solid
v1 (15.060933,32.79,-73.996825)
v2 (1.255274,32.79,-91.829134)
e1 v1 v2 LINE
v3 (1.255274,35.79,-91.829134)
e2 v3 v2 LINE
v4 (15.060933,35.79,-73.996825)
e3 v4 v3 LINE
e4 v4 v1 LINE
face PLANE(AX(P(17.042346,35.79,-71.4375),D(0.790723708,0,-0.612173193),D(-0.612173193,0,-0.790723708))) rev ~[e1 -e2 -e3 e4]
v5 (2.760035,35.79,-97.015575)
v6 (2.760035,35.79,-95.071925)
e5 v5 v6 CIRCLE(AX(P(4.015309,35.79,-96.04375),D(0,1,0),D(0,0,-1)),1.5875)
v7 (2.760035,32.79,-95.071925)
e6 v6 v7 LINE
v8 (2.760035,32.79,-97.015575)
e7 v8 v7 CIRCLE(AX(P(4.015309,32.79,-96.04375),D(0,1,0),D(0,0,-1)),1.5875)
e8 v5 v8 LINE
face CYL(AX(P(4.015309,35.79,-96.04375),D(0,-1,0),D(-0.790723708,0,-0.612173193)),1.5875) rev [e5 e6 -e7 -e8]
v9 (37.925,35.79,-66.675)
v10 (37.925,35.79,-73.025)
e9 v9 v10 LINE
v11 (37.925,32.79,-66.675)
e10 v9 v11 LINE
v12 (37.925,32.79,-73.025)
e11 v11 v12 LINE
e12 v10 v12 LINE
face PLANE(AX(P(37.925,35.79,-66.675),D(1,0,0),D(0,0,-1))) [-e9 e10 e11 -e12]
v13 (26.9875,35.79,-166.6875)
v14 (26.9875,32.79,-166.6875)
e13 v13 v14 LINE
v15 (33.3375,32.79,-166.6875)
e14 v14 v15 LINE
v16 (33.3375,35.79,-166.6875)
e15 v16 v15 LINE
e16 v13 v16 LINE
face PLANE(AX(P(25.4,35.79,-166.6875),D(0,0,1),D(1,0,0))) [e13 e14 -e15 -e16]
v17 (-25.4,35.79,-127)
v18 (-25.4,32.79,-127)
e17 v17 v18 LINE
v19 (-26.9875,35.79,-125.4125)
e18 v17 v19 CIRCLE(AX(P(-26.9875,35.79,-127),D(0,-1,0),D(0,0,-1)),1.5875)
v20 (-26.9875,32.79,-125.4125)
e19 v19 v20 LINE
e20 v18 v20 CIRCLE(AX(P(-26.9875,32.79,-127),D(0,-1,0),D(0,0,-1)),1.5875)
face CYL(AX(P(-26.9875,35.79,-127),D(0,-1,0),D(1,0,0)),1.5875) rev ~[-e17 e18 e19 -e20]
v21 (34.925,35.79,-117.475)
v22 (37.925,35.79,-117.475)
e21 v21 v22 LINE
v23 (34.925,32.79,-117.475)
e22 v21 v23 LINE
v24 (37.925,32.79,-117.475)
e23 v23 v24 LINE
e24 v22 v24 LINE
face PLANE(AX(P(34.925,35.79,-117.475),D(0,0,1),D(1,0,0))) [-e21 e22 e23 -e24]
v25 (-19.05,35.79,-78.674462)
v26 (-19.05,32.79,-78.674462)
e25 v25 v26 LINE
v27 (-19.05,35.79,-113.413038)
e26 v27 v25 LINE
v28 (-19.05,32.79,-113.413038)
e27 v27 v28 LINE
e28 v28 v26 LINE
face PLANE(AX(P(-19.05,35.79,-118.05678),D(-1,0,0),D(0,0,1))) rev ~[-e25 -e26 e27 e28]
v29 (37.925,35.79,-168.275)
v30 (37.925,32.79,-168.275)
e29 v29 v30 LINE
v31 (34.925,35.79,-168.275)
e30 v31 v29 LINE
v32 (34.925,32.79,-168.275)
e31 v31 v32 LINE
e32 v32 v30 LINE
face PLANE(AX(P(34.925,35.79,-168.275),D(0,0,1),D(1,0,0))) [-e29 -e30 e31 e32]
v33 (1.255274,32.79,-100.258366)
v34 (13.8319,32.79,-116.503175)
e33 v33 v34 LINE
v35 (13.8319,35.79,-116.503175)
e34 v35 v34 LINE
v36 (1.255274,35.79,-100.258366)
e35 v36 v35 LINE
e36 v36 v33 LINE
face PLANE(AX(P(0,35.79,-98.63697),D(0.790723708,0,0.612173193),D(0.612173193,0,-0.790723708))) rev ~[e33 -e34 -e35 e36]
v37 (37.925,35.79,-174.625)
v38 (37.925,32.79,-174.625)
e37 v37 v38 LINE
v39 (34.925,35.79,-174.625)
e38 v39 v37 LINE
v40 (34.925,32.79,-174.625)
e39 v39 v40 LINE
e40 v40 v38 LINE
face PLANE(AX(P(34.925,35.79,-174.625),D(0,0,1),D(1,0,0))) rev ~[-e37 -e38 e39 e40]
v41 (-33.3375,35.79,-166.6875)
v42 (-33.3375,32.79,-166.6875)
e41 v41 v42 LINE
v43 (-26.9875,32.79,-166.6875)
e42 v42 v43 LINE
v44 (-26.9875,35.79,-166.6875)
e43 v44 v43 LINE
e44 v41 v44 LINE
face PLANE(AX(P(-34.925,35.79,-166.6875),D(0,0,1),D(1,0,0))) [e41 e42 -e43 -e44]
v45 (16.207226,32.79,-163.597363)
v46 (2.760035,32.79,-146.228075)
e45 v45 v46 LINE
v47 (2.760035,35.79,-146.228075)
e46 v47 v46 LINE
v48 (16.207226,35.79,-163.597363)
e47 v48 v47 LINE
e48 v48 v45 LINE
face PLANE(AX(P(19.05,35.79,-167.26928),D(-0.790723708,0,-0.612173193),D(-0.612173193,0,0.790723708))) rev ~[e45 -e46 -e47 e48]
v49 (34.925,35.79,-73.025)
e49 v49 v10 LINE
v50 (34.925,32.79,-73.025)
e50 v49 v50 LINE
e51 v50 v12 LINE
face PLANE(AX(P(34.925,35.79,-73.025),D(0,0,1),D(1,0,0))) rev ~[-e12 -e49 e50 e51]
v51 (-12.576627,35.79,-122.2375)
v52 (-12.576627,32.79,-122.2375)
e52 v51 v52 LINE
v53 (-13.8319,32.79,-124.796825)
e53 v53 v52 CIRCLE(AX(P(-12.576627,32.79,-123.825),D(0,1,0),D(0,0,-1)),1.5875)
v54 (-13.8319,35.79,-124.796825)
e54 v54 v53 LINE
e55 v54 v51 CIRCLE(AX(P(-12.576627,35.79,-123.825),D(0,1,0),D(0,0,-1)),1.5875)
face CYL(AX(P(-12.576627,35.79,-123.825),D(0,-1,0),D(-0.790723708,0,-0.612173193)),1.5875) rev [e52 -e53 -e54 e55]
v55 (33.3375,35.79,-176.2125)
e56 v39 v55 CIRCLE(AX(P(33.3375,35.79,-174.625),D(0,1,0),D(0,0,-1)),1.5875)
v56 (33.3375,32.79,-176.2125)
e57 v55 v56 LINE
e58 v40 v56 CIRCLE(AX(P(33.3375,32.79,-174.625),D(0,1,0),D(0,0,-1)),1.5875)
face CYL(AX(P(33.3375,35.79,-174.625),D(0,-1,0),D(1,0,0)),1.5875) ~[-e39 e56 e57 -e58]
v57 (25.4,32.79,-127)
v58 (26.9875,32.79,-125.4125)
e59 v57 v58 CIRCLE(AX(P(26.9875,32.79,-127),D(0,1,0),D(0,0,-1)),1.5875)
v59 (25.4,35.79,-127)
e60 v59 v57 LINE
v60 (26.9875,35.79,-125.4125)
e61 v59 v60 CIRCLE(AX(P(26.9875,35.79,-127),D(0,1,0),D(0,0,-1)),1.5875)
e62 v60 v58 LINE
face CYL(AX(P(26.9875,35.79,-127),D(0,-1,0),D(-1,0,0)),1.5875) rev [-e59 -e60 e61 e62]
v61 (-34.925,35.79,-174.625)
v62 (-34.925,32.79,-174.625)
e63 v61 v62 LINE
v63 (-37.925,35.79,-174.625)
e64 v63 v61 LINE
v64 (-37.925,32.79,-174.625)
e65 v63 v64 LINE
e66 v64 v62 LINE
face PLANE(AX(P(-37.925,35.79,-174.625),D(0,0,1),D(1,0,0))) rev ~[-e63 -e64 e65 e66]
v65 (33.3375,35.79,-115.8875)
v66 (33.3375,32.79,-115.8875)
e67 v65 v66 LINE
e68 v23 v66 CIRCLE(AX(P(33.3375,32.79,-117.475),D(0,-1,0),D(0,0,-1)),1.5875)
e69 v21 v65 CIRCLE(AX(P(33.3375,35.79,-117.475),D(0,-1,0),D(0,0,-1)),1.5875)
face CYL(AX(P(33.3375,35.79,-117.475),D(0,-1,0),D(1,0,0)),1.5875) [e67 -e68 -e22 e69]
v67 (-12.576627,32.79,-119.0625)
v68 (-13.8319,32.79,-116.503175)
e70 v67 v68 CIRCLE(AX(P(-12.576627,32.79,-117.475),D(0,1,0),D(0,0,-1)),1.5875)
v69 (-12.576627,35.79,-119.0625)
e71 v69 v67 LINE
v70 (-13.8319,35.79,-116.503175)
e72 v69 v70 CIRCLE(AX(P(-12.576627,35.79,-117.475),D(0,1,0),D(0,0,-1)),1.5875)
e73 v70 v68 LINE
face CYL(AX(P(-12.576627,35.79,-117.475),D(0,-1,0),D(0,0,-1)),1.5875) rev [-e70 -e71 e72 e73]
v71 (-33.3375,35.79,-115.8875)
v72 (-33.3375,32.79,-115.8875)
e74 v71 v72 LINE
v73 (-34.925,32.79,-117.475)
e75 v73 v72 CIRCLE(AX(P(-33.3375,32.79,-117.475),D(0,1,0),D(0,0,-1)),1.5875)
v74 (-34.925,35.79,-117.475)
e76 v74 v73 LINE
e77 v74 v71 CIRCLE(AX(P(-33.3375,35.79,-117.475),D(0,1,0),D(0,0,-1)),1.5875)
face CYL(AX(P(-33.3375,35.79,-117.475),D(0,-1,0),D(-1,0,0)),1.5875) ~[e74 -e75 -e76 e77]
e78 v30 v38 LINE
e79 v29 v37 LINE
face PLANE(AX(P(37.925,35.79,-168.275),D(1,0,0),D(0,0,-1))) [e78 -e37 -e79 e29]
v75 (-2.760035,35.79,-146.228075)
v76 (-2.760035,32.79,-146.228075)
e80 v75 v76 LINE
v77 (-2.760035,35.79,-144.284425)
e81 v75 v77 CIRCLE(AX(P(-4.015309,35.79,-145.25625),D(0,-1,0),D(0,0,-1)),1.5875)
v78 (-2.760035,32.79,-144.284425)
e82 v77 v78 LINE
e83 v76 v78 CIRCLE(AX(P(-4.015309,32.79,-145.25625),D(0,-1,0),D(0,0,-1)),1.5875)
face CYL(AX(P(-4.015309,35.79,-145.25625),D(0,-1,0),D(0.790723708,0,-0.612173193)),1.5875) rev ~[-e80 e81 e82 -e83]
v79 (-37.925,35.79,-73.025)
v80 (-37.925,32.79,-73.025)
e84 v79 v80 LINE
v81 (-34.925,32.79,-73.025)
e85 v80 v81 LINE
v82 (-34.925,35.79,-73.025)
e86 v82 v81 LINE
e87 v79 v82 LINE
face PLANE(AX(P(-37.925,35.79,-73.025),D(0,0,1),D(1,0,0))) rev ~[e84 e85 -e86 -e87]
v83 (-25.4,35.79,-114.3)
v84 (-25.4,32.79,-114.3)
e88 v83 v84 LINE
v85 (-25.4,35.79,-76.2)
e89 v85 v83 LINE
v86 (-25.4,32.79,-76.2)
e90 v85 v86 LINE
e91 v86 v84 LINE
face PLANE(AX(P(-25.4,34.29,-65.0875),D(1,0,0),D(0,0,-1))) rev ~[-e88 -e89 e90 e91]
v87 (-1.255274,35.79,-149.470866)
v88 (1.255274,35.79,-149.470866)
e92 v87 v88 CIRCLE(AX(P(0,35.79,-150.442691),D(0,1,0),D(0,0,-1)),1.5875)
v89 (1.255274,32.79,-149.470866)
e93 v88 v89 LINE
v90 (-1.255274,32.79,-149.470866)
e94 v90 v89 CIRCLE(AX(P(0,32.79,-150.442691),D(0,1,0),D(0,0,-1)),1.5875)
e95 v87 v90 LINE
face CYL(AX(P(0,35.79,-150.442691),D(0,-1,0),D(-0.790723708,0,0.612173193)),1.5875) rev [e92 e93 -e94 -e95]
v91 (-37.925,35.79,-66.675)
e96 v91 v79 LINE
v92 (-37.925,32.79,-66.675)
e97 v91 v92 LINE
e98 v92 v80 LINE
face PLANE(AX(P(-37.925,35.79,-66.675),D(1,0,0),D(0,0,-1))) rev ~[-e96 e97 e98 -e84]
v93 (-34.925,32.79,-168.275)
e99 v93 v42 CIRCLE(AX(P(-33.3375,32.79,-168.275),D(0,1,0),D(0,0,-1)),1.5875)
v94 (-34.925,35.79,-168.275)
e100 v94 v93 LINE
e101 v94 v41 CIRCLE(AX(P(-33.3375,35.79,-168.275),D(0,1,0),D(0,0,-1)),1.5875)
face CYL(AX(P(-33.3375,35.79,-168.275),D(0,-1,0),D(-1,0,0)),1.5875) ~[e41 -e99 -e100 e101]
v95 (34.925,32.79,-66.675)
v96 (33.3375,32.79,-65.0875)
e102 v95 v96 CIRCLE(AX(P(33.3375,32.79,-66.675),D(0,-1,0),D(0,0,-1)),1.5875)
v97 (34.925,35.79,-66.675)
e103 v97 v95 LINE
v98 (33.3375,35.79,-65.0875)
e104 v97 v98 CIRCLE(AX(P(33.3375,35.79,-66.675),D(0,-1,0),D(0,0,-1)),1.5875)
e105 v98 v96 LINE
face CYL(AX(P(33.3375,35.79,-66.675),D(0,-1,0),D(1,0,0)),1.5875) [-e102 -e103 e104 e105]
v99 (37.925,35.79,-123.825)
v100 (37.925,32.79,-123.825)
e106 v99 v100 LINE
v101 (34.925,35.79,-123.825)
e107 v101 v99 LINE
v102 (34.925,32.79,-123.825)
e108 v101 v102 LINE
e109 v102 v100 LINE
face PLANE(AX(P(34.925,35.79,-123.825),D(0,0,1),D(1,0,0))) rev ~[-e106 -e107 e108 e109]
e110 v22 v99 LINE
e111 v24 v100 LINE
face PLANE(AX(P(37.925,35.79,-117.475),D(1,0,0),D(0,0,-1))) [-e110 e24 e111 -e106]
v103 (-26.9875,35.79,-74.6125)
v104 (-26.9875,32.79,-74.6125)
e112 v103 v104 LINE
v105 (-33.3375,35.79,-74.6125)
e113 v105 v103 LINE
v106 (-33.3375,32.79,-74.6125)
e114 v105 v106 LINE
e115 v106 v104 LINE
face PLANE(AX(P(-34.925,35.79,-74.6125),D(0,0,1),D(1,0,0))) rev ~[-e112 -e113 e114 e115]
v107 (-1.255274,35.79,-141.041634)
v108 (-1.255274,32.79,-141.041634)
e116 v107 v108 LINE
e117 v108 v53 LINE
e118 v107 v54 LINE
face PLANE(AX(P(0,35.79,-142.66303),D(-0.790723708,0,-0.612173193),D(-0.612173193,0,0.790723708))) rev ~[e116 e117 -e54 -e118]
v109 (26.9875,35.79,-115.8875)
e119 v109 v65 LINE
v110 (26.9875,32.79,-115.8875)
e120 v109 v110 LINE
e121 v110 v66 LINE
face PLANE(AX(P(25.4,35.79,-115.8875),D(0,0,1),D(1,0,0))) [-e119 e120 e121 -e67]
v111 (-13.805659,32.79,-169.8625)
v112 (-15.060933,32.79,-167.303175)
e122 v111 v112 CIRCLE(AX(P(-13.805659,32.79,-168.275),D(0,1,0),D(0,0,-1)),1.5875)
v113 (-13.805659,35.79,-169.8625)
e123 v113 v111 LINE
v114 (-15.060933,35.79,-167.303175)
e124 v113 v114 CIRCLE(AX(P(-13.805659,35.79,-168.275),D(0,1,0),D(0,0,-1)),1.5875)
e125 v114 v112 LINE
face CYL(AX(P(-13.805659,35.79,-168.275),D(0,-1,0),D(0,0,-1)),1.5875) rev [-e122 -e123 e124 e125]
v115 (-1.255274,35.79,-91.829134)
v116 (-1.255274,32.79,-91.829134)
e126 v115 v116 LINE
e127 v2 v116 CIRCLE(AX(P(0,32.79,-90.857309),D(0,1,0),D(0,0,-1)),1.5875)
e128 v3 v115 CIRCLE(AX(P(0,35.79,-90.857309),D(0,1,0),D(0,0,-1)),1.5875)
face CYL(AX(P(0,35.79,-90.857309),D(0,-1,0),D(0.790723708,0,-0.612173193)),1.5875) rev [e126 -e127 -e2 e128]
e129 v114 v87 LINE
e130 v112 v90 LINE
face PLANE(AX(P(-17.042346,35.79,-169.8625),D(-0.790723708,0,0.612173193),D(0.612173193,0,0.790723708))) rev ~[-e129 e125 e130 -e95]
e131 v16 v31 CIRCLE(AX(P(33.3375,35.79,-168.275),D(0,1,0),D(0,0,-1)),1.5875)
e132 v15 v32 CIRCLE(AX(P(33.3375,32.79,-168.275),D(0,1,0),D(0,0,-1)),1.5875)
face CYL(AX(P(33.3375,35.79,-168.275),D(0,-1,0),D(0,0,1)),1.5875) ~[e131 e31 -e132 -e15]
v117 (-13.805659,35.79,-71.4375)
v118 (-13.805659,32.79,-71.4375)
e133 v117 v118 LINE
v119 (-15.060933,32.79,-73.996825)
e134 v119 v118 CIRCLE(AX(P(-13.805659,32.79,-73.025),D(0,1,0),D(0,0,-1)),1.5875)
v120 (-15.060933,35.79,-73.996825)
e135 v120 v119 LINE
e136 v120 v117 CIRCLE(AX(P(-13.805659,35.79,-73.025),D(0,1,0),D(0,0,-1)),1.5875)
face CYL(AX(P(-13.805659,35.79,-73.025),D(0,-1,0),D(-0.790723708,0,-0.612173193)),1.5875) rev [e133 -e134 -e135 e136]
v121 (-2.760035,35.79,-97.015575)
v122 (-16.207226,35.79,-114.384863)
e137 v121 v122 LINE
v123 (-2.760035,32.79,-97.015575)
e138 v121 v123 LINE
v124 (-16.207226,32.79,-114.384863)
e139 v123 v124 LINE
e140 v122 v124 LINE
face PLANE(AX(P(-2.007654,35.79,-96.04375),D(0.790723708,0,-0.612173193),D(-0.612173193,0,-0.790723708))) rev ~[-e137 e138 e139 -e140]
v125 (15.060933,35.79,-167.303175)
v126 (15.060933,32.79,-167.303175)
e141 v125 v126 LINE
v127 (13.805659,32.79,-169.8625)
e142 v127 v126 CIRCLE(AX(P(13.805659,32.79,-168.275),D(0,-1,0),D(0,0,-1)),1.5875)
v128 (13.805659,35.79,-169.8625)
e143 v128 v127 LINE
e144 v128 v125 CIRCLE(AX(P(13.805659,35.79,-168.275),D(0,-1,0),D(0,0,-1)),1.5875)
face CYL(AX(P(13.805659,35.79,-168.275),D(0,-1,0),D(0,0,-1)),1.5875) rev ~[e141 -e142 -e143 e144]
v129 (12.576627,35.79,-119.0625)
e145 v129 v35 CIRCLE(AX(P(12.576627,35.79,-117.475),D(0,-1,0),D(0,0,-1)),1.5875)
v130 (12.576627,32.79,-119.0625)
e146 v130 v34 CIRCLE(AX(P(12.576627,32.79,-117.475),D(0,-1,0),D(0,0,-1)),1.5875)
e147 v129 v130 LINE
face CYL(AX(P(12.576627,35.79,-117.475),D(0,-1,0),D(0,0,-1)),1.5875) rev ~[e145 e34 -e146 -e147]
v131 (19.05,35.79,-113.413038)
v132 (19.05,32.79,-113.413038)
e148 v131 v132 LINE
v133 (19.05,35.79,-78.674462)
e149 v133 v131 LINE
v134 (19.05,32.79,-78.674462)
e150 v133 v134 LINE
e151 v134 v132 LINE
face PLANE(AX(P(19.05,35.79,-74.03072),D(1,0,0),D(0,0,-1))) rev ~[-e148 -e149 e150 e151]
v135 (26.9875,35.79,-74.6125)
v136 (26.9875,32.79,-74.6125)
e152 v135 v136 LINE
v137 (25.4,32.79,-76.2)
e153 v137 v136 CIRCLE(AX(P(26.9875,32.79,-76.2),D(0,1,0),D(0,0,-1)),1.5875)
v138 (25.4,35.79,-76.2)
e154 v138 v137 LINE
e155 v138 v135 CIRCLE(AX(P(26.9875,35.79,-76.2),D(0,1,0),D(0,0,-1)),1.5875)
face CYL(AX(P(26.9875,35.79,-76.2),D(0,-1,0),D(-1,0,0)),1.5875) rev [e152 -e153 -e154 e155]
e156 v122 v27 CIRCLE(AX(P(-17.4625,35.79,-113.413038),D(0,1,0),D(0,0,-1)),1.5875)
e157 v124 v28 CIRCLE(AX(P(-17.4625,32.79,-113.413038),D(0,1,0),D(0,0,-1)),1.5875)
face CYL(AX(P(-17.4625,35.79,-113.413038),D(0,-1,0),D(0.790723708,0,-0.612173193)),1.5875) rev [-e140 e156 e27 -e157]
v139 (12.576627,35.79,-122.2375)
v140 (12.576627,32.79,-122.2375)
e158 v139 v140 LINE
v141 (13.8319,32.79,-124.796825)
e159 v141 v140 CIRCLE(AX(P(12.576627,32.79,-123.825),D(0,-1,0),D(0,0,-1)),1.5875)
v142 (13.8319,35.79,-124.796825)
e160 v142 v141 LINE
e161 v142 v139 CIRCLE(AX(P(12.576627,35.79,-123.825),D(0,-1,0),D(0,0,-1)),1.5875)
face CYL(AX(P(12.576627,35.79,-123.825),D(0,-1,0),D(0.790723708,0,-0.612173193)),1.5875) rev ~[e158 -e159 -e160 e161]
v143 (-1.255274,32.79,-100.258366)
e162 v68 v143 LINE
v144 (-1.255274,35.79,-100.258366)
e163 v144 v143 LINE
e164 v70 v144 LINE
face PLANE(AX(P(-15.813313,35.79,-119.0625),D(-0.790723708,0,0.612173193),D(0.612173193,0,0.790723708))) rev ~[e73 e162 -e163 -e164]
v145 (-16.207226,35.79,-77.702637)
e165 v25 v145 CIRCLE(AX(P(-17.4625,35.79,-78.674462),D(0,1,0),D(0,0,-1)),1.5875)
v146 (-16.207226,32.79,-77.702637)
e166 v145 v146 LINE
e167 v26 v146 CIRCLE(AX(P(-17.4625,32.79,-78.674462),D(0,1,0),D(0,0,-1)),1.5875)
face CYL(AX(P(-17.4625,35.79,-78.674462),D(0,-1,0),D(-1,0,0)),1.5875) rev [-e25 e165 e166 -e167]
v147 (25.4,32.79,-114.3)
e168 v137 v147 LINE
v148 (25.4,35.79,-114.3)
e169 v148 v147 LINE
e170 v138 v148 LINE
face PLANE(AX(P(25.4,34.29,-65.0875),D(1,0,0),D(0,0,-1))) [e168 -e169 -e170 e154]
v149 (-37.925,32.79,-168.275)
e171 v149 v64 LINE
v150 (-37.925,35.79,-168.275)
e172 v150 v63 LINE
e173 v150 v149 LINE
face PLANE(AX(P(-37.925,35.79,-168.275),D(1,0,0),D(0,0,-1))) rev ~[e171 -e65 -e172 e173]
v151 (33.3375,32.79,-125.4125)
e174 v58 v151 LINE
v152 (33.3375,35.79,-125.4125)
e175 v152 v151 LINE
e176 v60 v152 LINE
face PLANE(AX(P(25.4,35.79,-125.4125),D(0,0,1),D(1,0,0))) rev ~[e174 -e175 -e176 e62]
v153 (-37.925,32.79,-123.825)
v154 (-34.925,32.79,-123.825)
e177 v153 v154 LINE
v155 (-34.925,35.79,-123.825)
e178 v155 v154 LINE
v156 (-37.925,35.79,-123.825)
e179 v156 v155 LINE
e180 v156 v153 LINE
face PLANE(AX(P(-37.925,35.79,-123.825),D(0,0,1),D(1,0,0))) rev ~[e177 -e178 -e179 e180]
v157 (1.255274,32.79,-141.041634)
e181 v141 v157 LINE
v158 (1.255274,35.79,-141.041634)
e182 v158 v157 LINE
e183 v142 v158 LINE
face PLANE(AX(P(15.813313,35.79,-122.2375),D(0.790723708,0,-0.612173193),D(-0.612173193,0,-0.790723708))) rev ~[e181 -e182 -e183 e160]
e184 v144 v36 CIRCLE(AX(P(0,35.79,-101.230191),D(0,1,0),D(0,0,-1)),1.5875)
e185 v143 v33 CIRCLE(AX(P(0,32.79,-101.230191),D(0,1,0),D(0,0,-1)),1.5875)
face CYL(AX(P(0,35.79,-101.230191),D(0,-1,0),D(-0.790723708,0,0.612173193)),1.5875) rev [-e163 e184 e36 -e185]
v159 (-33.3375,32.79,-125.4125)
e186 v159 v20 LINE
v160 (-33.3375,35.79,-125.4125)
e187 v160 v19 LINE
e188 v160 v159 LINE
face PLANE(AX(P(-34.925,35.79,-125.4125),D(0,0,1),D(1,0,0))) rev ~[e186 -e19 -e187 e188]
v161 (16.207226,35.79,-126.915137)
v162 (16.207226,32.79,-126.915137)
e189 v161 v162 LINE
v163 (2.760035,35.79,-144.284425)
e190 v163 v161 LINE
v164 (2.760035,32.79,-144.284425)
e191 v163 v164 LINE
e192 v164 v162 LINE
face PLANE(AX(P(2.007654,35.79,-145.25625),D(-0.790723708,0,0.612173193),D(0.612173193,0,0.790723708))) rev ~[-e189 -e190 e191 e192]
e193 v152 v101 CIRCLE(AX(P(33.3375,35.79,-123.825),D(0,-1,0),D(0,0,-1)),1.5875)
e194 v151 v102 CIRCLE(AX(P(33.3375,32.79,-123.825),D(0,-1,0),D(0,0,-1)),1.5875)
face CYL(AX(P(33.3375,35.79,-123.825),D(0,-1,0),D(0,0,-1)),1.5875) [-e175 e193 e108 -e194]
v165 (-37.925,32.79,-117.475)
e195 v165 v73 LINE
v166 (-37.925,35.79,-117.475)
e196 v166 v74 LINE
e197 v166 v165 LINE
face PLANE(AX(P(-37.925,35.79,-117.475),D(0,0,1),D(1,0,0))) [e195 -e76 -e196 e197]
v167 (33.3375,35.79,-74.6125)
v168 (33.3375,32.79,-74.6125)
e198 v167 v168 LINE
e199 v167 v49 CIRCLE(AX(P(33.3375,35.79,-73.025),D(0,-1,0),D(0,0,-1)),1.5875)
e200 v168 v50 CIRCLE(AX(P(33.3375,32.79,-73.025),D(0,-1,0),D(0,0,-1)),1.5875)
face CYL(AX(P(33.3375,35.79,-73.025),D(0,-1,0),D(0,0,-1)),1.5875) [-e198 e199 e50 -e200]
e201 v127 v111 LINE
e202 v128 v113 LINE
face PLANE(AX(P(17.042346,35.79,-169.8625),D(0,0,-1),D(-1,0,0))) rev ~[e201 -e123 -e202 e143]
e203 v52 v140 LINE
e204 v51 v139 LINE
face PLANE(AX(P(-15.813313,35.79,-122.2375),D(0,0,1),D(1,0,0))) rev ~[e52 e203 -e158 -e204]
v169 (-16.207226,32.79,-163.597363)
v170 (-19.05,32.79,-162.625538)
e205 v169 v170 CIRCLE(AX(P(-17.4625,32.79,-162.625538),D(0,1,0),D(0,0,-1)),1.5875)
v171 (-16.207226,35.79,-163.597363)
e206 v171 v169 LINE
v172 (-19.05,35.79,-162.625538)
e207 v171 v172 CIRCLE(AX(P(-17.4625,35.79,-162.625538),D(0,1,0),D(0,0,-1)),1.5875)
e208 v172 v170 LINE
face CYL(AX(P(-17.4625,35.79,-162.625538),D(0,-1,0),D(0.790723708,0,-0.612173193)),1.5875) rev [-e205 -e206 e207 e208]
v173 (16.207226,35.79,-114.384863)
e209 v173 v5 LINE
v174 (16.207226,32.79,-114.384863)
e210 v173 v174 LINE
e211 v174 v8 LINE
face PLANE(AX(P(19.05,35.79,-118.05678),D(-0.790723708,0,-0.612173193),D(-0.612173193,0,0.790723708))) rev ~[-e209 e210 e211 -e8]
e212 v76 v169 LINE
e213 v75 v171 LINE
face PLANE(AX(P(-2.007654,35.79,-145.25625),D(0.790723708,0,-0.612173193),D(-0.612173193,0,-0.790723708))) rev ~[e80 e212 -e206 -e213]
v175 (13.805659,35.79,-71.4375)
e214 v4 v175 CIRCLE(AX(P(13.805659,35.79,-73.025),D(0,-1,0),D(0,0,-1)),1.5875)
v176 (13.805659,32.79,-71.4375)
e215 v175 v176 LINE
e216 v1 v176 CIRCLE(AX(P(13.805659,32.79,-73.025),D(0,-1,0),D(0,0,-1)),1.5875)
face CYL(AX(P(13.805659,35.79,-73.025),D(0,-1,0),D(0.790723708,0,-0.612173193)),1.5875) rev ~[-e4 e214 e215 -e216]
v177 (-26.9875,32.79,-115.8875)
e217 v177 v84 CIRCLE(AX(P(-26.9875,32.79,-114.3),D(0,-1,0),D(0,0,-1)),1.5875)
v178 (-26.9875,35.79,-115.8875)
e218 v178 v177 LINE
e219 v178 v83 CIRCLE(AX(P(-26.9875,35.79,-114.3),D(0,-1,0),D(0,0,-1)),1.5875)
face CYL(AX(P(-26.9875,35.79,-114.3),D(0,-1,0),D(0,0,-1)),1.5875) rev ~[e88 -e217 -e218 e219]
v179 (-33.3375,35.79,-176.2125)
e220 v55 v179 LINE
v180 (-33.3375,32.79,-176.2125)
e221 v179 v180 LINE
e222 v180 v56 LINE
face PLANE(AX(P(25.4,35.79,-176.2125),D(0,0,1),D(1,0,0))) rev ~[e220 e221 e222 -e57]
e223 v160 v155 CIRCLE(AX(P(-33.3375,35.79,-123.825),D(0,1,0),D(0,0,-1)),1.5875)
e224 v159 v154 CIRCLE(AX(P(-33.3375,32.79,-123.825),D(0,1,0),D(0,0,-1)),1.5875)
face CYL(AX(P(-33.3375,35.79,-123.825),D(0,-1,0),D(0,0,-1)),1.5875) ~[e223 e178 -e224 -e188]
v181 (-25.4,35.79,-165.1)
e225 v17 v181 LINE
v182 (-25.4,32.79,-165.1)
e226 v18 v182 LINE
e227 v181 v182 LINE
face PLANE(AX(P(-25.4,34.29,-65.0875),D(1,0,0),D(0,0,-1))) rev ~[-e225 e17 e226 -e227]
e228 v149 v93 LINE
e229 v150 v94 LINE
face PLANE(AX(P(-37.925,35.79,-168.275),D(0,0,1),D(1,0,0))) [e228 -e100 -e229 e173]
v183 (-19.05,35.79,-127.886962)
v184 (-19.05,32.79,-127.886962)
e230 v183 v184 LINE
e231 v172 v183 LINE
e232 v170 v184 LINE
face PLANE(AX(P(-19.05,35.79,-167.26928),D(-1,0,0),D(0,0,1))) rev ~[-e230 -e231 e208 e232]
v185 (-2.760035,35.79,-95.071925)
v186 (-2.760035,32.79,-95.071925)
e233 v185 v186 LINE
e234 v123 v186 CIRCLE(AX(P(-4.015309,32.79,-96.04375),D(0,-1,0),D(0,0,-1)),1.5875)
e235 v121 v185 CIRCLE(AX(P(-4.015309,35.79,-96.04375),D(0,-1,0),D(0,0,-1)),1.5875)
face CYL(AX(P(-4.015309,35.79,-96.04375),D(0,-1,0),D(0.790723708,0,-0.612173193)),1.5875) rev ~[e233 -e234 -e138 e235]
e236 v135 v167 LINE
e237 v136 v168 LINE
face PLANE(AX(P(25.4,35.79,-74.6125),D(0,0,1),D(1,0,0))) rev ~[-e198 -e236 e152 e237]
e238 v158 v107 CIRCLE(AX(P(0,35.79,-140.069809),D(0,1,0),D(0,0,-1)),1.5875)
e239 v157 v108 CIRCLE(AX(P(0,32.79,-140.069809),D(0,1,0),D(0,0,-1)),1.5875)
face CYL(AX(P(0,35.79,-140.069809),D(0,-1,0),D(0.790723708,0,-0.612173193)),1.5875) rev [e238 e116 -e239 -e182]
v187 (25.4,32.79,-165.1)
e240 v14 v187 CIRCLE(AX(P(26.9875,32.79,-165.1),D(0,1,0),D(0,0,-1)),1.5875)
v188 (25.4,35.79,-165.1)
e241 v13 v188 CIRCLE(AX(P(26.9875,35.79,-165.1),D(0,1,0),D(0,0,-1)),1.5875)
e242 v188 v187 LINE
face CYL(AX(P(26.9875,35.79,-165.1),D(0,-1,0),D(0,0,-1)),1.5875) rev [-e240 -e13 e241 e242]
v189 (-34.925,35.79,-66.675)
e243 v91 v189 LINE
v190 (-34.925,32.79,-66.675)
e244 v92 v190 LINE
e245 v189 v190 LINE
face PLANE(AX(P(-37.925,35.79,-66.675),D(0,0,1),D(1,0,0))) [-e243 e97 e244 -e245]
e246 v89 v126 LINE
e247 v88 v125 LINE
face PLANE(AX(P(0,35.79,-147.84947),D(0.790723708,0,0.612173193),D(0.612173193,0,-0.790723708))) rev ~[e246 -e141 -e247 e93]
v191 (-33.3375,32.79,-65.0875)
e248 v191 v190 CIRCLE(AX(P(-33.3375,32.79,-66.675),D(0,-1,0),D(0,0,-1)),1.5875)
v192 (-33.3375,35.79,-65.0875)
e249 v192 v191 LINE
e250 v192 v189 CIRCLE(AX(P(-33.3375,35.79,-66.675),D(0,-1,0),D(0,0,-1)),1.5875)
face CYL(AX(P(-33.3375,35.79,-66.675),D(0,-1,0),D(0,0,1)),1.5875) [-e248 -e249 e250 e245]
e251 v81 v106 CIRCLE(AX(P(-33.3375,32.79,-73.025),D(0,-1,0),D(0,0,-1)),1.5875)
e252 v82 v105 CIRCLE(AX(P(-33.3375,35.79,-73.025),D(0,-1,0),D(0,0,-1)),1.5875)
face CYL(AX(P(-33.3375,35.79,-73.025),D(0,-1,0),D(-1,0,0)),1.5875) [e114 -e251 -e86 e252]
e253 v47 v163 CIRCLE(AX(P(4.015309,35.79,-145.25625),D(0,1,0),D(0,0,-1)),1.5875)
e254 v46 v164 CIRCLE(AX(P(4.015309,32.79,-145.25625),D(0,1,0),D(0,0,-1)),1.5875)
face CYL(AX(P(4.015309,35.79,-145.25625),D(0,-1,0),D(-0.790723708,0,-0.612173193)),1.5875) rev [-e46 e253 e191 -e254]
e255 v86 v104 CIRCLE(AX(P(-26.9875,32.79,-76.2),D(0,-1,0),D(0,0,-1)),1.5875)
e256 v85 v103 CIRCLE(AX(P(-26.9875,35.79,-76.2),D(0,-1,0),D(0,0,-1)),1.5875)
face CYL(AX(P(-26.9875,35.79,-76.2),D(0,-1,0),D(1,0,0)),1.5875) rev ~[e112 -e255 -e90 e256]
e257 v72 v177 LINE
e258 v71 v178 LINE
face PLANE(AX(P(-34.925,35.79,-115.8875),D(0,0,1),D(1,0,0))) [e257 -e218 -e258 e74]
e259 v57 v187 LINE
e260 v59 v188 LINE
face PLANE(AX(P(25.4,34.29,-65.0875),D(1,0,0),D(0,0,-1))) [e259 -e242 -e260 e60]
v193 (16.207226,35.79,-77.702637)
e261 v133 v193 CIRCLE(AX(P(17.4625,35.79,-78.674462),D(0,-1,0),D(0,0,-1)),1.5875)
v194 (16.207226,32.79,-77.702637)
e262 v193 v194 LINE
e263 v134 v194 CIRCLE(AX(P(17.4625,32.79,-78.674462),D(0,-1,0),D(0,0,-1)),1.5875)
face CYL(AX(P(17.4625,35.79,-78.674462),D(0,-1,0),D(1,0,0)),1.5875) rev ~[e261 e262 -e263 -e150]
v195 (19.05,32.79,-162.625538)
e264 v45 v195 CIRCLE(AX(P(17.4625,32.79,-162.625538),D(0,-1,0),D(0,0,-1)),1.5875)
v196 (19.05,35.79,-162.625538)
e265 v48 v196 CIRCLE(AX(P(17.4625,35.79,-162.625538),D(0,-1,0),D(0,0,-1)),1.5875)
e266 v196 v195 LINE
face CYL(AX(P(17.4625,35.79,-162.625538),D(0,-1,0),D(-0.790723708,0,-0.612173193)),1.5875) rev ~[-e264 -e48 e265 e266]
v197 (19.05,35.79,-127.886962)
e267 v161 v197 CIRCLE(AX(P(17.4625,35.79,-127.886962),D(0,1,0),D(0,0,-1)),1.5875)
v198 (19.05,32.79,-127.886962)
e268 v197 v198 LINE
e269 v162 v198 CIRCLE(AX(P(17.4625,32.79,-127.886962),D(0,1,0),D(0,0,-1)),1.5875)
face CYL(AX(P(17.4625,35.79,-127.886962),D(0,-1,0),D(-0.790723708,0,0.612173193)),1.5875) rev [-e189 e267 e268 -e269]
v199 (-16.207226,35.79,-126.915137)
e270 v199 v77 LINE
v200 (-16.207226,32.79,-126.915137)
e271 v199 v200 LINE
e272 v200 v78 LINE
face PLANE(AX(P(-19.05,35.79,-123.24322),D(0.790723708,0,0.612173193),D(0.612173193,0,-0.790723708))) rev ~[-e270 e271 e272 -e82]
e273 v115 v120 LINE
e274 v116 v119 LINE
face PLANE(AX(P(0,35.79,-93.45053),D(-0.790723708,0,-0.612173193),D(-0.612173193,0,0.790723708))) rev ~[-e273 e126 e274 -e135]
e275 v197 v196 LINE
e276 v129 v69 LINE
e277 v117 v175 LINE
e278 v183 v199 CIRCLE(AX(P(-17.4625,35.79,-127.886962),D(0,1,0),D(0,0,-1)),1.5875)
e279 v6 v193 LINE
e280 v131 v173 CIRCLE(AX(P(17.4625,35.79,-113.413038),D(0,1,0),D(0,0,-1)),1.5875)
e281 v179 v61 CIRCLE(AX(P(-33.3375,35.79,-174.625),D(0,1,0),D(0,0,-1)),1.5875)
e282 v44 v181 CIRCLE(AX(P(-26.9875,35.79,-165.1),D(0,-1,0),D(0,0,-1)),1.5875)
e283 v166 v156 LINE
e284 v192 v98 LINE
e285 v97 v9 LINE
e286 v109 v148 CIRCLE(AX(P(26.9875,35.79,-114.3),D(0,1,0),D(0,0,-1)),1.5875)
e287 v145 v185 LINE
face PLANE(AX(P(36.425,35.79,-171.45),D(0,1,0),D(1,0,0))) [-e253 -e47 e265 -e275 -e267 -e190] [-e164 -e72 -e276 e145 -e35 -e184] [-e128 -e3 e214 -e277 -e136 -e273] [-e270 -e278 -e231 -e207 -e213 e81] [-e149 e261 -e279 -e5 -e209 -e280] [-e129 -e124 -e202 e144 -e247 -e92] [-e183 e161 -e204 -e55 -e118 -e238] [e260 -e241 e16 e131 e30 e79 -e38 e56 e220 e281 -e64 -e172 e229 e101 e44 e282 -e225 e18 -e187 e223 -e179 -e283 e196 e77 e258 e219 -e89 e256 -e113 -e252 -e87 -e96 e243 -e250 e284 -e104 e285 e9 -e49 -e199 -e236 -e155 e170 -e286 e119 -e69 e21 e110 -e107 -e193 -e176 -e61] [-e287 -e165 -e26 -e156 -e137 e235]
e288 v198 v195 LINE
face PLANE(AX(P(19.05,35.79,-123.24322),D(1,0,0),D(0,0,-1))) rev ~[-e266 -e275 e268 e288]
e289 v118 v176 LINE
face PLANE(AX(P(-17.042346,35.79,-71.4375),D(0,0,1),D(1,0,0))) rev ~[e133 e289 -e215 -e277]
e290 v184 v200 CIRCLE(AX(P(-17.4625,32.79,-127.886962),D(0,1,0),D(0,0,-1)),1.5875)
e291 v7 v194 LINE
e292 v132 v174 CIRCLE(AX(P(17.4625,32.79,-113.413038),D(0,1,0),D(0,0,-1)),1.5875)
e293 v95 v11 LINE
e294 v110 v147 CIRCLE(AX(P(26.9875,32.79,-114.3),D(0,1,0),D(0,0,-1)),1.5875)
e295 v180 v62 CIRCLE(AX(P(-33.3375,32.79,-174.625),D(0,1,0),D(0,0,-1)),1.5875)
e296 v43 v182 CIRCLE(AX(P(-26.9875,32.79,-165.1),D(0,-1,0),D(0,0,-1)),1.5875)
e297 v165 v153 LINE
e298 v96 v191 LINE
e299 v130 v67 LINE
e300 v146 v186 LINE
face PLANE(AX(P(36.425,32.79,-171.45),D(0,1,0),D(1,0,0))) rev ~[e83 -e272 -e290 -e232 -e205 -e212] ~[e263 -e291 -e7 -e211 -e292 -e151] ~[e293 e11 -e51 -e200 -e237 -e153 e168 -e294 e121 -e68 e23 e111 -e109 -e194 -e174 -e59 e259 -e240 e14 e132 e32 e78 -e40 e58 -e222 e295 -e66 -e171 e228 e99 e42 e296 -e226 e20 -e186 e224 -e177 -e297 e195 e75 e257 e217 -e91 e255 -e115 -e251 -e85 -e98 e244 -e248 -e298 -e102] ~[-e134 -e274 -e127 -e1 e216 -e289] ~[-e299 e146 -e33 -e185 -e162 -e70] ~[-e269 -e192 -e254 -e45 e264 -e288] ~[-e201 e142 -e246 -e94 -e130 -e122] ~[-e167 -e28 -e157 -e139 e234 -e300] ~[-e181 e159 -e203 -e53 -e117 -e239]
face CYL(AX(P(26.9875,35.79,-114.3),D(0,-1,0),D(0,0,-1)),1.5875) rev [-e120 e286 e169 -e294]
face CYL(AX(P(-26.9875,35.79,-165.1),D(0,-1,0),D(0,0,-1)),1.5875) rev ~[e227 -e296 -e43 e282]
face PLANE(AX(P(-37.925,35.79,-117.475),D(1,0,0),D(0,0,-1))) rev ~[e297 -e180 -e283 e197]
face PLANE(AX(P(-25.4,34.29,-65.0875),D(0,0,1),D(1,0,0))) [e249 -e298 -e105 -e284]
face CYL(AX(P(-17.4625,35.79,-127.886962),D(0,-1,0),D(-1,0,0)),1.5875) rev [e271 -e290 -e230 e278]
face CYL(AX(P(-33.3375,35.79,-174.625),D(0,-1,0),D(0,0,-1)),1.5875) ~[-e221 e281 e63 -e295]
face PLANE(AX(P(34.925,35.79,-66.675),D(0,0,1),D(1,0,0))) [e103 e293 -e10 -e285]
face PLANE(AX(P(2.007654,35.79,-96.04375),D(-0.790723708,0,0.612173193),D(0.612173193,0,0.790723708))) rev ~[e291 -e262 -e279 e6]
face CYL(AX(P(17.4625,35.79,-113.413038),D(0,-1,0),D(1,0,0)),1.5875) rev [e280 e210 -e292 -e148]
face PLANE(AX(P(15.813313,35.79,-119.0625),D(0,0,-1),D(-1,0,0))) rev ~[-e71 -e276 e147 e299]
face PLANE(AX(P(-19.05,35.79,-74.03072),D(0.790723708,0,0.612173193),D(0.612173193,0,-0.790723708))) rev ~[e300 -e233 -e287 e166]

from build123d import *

# Parameters (mm, degrees)
SKETCH1_W           = 50.8
SKETCH1_H           = 111.125
BOSS_EXTRUDE1_DEPTH = 1.5
SKETCH2_W           = 9.525
SKETCH2_H           = 9.525
BOSS_EXTRUDE2_DEPTH = 3
CUT_EXTRUDE1_DEPTH  = 3
FILLET1_R           = 1.5875
SKETCH5_W           = 3
SKETCH5_H           = 6.35
BOSS_EXTRUDE3_DEPTH = 3


with BuildPart() as part:
    # Sketch1 → Boss-Extrude1 (new, symmetric)
    with BuildSketch(Plane(origin=(0, 34.29, 0), x_dir=(1, 0, 0), z_dir=(0, 1, 0))):
        with Locations((0, 120.65)):
            Rectangle(SKETCH1_W, SKETCH1_H)
    extrude(amount=BOSS_EXTRUDE1_DEPTH, both=True)

    # Sketch2 → Boss-Extrude2 (add)
    with BuildSketch(Plane(origin=(0, 35.79, 0), x_dir=(1, 0, 0), z_dir=(0, 1, 0))):
        with Locations((30.1625, 171.45)):
            Rectangle(SKETCH2_W, SKETCH2_H)
        with Locations((-30.1625, 171.45)):
            Rectangle(SKETCH2_W, SKETCH2_H)
        with Locations((30.1625, 120.65)):
            Rectangle(SKETCH2_W, SKETCH2_H)
        with Locations((-30.1625, 120.65)):
            Rectangle(SKETCH2_W, SKETCH2_H)
        with Locations((30.1625, 69.85)):
            Rectangle(SKETCH2_W, SKETCH2_H)
        with Locations((-30.1625, 69.85)):
            Rectangle(SKETCH2_W, SKETCH2_H)
    extrude(amount=-BOSS_EXTRUDE2_DEPTH)

    # Sketch4 → Cut-Extrude1 (cut)
    with BuildSketch(Plane(origin=(0, 35.79, 0), x_dir=(1, 0, 0), z_dir=(0, 1, 0))):
        Polygon((17.042345512, 169.8625), (-17.042345512, 169.8625), (0, 147.84947038), align=None)
        Polygon((-2.007654488, 145.25625), (-19.05, 167.26927962), (-19.05, 123.24322038), align=None)
        Polygon((19.05, 167.26927962), (2.007654488, 145.25625), (19.05, 123.24322038), align=None)
        Polygon((15.813313254, 122.2375), (0, 142.66302962), (-15.813313254, 122.2375), align=None)
        Polygon((-2.007654488, 96.04375), (-19.05, 118.05677962), (-19.05, 74.03072038), align=None)
        Polygon((15.813313254, 119.0625), (-15.813313254, 119.0625), (0, 98.63697038), align=None)
        Polygon((19.05, 74.03072038), (19.05, 118.05677962), (2.007654488, 96.04375), align=None)
        Polygon((17.042345512, 71.4375), (0, 93.45052962), (-17.042345512, 71.4375), align=None)
    extrude(amount=-CUT_EXTRUDE1_DEPTH, mode=Mode.SUBTRACT)

    # Fillet1
    fillet1_edges = [part.edges().sort_by_distance(p)[0] for p in [
        (15.813313254, 34.29, -122.2375),
        (-15.813313254, 34.29, -122.2375),
        (0, 34.29, -142.66302962),
        (15.813313254, 34.29, -119.0625),
        (0, 34.29, -98.63697038),
        (-15.813313254, 34.29, -119.0625),
        (17.042345512, 34.29, -71.4375),
        (-17.042345512, 34.29, -71.4375),
        (0, 34.29, -93.45052962),
        (-2.007654488, 34.29, -96.04375),
        (-19.05, 34.29, -74.03072038),
        (-19.05, 34.29, -118.05677962),
        (-2.007654488, 34.29, -145.25625),
        (-19.05, 34.29, -123.24322038),
        (-19.05, 34.29, -167.26927962),
        (19.05, 34.29, -123.24322038),
        (2.007654488, 34.29, -145.25625),
        (19.05, 34.29, -167.26927962),
        (0, 34.29, -147.84947038),
        (-17.042345512, 34.29, -169.8625),
        (17.042345512, 34.29, -169.8625),
        (19.05, 34.29, -118.05677962),
        (19.05, 34.29, -74.03072038),
        (2.007654488, 34.29, -96.04375),
        (34.925, 34.29, -65.0875),
        (34.925, 34.29, -74.6125),
        (25.4, 34.29, -74.6125),
        (-25.4, 34.29, -115.8875),
        (-25.4, 34.29, -125.4125),
        (-34.925, 34.29, -125.4125),
        (-34.925, 34.29, -115.8875),
        (34.925, 34.29, -115.8875),
        (34.925, 34.29, -125.4125),
        (25.4, 34.29, -125.4125),
        (25.4, 34.29, -115.8875),
        (-25.4, 34.29, -166.6875),
        (-34.925, 34.29, -176.2125),
        (-34.925, 34.29, -166.6875),
        (-25.4, 34.29, -74.6125),
        (-34.925, 34.29, -74.6125),
        (-34.925, 34.29, -65.0875),
        (34.925, 34.29, -166.6875),
        (34.925, 34.29, -176.2125),
        (25.4, 34.29, -166.6875),
    ]]
    fillet(fillet1_edges, radius=FILLET1_R)

    # Sketch5 → Boss-Extrude3 (add)
    with BuildSketch(Plane(origin=(0, 35.79, 0), x_dir=(1, 0, 0), z_dir=(0, 1, 0))):
        with Locations((36.425, 171.45)):
            Rectangle(SKETCH5_W, SKETCH5_H)
        with Locations((-36.425, 171.45)):
            Rectangle(SKETCH5_W, SKETCH5_H)
        with Locations((36.425, 120.65)):
            Rectangle(SKETCH5_W, SKETCH5_H)
        with Locations((-36.425, 120.65)):
            Rectangle(SKETCH5_W, SKETCH5_H)
        with Locations((36.425, 69.85)):
            Rectangle(SKETCH5_W, SKETCH5_H)
        with Locations((-36.425, 69.85)):
            Rectangle(SKETCH5_W, SKETCH5_H)
    extrude(amount=-BOSS_EXTRUDE3_DEPTH)


solid = part.part
